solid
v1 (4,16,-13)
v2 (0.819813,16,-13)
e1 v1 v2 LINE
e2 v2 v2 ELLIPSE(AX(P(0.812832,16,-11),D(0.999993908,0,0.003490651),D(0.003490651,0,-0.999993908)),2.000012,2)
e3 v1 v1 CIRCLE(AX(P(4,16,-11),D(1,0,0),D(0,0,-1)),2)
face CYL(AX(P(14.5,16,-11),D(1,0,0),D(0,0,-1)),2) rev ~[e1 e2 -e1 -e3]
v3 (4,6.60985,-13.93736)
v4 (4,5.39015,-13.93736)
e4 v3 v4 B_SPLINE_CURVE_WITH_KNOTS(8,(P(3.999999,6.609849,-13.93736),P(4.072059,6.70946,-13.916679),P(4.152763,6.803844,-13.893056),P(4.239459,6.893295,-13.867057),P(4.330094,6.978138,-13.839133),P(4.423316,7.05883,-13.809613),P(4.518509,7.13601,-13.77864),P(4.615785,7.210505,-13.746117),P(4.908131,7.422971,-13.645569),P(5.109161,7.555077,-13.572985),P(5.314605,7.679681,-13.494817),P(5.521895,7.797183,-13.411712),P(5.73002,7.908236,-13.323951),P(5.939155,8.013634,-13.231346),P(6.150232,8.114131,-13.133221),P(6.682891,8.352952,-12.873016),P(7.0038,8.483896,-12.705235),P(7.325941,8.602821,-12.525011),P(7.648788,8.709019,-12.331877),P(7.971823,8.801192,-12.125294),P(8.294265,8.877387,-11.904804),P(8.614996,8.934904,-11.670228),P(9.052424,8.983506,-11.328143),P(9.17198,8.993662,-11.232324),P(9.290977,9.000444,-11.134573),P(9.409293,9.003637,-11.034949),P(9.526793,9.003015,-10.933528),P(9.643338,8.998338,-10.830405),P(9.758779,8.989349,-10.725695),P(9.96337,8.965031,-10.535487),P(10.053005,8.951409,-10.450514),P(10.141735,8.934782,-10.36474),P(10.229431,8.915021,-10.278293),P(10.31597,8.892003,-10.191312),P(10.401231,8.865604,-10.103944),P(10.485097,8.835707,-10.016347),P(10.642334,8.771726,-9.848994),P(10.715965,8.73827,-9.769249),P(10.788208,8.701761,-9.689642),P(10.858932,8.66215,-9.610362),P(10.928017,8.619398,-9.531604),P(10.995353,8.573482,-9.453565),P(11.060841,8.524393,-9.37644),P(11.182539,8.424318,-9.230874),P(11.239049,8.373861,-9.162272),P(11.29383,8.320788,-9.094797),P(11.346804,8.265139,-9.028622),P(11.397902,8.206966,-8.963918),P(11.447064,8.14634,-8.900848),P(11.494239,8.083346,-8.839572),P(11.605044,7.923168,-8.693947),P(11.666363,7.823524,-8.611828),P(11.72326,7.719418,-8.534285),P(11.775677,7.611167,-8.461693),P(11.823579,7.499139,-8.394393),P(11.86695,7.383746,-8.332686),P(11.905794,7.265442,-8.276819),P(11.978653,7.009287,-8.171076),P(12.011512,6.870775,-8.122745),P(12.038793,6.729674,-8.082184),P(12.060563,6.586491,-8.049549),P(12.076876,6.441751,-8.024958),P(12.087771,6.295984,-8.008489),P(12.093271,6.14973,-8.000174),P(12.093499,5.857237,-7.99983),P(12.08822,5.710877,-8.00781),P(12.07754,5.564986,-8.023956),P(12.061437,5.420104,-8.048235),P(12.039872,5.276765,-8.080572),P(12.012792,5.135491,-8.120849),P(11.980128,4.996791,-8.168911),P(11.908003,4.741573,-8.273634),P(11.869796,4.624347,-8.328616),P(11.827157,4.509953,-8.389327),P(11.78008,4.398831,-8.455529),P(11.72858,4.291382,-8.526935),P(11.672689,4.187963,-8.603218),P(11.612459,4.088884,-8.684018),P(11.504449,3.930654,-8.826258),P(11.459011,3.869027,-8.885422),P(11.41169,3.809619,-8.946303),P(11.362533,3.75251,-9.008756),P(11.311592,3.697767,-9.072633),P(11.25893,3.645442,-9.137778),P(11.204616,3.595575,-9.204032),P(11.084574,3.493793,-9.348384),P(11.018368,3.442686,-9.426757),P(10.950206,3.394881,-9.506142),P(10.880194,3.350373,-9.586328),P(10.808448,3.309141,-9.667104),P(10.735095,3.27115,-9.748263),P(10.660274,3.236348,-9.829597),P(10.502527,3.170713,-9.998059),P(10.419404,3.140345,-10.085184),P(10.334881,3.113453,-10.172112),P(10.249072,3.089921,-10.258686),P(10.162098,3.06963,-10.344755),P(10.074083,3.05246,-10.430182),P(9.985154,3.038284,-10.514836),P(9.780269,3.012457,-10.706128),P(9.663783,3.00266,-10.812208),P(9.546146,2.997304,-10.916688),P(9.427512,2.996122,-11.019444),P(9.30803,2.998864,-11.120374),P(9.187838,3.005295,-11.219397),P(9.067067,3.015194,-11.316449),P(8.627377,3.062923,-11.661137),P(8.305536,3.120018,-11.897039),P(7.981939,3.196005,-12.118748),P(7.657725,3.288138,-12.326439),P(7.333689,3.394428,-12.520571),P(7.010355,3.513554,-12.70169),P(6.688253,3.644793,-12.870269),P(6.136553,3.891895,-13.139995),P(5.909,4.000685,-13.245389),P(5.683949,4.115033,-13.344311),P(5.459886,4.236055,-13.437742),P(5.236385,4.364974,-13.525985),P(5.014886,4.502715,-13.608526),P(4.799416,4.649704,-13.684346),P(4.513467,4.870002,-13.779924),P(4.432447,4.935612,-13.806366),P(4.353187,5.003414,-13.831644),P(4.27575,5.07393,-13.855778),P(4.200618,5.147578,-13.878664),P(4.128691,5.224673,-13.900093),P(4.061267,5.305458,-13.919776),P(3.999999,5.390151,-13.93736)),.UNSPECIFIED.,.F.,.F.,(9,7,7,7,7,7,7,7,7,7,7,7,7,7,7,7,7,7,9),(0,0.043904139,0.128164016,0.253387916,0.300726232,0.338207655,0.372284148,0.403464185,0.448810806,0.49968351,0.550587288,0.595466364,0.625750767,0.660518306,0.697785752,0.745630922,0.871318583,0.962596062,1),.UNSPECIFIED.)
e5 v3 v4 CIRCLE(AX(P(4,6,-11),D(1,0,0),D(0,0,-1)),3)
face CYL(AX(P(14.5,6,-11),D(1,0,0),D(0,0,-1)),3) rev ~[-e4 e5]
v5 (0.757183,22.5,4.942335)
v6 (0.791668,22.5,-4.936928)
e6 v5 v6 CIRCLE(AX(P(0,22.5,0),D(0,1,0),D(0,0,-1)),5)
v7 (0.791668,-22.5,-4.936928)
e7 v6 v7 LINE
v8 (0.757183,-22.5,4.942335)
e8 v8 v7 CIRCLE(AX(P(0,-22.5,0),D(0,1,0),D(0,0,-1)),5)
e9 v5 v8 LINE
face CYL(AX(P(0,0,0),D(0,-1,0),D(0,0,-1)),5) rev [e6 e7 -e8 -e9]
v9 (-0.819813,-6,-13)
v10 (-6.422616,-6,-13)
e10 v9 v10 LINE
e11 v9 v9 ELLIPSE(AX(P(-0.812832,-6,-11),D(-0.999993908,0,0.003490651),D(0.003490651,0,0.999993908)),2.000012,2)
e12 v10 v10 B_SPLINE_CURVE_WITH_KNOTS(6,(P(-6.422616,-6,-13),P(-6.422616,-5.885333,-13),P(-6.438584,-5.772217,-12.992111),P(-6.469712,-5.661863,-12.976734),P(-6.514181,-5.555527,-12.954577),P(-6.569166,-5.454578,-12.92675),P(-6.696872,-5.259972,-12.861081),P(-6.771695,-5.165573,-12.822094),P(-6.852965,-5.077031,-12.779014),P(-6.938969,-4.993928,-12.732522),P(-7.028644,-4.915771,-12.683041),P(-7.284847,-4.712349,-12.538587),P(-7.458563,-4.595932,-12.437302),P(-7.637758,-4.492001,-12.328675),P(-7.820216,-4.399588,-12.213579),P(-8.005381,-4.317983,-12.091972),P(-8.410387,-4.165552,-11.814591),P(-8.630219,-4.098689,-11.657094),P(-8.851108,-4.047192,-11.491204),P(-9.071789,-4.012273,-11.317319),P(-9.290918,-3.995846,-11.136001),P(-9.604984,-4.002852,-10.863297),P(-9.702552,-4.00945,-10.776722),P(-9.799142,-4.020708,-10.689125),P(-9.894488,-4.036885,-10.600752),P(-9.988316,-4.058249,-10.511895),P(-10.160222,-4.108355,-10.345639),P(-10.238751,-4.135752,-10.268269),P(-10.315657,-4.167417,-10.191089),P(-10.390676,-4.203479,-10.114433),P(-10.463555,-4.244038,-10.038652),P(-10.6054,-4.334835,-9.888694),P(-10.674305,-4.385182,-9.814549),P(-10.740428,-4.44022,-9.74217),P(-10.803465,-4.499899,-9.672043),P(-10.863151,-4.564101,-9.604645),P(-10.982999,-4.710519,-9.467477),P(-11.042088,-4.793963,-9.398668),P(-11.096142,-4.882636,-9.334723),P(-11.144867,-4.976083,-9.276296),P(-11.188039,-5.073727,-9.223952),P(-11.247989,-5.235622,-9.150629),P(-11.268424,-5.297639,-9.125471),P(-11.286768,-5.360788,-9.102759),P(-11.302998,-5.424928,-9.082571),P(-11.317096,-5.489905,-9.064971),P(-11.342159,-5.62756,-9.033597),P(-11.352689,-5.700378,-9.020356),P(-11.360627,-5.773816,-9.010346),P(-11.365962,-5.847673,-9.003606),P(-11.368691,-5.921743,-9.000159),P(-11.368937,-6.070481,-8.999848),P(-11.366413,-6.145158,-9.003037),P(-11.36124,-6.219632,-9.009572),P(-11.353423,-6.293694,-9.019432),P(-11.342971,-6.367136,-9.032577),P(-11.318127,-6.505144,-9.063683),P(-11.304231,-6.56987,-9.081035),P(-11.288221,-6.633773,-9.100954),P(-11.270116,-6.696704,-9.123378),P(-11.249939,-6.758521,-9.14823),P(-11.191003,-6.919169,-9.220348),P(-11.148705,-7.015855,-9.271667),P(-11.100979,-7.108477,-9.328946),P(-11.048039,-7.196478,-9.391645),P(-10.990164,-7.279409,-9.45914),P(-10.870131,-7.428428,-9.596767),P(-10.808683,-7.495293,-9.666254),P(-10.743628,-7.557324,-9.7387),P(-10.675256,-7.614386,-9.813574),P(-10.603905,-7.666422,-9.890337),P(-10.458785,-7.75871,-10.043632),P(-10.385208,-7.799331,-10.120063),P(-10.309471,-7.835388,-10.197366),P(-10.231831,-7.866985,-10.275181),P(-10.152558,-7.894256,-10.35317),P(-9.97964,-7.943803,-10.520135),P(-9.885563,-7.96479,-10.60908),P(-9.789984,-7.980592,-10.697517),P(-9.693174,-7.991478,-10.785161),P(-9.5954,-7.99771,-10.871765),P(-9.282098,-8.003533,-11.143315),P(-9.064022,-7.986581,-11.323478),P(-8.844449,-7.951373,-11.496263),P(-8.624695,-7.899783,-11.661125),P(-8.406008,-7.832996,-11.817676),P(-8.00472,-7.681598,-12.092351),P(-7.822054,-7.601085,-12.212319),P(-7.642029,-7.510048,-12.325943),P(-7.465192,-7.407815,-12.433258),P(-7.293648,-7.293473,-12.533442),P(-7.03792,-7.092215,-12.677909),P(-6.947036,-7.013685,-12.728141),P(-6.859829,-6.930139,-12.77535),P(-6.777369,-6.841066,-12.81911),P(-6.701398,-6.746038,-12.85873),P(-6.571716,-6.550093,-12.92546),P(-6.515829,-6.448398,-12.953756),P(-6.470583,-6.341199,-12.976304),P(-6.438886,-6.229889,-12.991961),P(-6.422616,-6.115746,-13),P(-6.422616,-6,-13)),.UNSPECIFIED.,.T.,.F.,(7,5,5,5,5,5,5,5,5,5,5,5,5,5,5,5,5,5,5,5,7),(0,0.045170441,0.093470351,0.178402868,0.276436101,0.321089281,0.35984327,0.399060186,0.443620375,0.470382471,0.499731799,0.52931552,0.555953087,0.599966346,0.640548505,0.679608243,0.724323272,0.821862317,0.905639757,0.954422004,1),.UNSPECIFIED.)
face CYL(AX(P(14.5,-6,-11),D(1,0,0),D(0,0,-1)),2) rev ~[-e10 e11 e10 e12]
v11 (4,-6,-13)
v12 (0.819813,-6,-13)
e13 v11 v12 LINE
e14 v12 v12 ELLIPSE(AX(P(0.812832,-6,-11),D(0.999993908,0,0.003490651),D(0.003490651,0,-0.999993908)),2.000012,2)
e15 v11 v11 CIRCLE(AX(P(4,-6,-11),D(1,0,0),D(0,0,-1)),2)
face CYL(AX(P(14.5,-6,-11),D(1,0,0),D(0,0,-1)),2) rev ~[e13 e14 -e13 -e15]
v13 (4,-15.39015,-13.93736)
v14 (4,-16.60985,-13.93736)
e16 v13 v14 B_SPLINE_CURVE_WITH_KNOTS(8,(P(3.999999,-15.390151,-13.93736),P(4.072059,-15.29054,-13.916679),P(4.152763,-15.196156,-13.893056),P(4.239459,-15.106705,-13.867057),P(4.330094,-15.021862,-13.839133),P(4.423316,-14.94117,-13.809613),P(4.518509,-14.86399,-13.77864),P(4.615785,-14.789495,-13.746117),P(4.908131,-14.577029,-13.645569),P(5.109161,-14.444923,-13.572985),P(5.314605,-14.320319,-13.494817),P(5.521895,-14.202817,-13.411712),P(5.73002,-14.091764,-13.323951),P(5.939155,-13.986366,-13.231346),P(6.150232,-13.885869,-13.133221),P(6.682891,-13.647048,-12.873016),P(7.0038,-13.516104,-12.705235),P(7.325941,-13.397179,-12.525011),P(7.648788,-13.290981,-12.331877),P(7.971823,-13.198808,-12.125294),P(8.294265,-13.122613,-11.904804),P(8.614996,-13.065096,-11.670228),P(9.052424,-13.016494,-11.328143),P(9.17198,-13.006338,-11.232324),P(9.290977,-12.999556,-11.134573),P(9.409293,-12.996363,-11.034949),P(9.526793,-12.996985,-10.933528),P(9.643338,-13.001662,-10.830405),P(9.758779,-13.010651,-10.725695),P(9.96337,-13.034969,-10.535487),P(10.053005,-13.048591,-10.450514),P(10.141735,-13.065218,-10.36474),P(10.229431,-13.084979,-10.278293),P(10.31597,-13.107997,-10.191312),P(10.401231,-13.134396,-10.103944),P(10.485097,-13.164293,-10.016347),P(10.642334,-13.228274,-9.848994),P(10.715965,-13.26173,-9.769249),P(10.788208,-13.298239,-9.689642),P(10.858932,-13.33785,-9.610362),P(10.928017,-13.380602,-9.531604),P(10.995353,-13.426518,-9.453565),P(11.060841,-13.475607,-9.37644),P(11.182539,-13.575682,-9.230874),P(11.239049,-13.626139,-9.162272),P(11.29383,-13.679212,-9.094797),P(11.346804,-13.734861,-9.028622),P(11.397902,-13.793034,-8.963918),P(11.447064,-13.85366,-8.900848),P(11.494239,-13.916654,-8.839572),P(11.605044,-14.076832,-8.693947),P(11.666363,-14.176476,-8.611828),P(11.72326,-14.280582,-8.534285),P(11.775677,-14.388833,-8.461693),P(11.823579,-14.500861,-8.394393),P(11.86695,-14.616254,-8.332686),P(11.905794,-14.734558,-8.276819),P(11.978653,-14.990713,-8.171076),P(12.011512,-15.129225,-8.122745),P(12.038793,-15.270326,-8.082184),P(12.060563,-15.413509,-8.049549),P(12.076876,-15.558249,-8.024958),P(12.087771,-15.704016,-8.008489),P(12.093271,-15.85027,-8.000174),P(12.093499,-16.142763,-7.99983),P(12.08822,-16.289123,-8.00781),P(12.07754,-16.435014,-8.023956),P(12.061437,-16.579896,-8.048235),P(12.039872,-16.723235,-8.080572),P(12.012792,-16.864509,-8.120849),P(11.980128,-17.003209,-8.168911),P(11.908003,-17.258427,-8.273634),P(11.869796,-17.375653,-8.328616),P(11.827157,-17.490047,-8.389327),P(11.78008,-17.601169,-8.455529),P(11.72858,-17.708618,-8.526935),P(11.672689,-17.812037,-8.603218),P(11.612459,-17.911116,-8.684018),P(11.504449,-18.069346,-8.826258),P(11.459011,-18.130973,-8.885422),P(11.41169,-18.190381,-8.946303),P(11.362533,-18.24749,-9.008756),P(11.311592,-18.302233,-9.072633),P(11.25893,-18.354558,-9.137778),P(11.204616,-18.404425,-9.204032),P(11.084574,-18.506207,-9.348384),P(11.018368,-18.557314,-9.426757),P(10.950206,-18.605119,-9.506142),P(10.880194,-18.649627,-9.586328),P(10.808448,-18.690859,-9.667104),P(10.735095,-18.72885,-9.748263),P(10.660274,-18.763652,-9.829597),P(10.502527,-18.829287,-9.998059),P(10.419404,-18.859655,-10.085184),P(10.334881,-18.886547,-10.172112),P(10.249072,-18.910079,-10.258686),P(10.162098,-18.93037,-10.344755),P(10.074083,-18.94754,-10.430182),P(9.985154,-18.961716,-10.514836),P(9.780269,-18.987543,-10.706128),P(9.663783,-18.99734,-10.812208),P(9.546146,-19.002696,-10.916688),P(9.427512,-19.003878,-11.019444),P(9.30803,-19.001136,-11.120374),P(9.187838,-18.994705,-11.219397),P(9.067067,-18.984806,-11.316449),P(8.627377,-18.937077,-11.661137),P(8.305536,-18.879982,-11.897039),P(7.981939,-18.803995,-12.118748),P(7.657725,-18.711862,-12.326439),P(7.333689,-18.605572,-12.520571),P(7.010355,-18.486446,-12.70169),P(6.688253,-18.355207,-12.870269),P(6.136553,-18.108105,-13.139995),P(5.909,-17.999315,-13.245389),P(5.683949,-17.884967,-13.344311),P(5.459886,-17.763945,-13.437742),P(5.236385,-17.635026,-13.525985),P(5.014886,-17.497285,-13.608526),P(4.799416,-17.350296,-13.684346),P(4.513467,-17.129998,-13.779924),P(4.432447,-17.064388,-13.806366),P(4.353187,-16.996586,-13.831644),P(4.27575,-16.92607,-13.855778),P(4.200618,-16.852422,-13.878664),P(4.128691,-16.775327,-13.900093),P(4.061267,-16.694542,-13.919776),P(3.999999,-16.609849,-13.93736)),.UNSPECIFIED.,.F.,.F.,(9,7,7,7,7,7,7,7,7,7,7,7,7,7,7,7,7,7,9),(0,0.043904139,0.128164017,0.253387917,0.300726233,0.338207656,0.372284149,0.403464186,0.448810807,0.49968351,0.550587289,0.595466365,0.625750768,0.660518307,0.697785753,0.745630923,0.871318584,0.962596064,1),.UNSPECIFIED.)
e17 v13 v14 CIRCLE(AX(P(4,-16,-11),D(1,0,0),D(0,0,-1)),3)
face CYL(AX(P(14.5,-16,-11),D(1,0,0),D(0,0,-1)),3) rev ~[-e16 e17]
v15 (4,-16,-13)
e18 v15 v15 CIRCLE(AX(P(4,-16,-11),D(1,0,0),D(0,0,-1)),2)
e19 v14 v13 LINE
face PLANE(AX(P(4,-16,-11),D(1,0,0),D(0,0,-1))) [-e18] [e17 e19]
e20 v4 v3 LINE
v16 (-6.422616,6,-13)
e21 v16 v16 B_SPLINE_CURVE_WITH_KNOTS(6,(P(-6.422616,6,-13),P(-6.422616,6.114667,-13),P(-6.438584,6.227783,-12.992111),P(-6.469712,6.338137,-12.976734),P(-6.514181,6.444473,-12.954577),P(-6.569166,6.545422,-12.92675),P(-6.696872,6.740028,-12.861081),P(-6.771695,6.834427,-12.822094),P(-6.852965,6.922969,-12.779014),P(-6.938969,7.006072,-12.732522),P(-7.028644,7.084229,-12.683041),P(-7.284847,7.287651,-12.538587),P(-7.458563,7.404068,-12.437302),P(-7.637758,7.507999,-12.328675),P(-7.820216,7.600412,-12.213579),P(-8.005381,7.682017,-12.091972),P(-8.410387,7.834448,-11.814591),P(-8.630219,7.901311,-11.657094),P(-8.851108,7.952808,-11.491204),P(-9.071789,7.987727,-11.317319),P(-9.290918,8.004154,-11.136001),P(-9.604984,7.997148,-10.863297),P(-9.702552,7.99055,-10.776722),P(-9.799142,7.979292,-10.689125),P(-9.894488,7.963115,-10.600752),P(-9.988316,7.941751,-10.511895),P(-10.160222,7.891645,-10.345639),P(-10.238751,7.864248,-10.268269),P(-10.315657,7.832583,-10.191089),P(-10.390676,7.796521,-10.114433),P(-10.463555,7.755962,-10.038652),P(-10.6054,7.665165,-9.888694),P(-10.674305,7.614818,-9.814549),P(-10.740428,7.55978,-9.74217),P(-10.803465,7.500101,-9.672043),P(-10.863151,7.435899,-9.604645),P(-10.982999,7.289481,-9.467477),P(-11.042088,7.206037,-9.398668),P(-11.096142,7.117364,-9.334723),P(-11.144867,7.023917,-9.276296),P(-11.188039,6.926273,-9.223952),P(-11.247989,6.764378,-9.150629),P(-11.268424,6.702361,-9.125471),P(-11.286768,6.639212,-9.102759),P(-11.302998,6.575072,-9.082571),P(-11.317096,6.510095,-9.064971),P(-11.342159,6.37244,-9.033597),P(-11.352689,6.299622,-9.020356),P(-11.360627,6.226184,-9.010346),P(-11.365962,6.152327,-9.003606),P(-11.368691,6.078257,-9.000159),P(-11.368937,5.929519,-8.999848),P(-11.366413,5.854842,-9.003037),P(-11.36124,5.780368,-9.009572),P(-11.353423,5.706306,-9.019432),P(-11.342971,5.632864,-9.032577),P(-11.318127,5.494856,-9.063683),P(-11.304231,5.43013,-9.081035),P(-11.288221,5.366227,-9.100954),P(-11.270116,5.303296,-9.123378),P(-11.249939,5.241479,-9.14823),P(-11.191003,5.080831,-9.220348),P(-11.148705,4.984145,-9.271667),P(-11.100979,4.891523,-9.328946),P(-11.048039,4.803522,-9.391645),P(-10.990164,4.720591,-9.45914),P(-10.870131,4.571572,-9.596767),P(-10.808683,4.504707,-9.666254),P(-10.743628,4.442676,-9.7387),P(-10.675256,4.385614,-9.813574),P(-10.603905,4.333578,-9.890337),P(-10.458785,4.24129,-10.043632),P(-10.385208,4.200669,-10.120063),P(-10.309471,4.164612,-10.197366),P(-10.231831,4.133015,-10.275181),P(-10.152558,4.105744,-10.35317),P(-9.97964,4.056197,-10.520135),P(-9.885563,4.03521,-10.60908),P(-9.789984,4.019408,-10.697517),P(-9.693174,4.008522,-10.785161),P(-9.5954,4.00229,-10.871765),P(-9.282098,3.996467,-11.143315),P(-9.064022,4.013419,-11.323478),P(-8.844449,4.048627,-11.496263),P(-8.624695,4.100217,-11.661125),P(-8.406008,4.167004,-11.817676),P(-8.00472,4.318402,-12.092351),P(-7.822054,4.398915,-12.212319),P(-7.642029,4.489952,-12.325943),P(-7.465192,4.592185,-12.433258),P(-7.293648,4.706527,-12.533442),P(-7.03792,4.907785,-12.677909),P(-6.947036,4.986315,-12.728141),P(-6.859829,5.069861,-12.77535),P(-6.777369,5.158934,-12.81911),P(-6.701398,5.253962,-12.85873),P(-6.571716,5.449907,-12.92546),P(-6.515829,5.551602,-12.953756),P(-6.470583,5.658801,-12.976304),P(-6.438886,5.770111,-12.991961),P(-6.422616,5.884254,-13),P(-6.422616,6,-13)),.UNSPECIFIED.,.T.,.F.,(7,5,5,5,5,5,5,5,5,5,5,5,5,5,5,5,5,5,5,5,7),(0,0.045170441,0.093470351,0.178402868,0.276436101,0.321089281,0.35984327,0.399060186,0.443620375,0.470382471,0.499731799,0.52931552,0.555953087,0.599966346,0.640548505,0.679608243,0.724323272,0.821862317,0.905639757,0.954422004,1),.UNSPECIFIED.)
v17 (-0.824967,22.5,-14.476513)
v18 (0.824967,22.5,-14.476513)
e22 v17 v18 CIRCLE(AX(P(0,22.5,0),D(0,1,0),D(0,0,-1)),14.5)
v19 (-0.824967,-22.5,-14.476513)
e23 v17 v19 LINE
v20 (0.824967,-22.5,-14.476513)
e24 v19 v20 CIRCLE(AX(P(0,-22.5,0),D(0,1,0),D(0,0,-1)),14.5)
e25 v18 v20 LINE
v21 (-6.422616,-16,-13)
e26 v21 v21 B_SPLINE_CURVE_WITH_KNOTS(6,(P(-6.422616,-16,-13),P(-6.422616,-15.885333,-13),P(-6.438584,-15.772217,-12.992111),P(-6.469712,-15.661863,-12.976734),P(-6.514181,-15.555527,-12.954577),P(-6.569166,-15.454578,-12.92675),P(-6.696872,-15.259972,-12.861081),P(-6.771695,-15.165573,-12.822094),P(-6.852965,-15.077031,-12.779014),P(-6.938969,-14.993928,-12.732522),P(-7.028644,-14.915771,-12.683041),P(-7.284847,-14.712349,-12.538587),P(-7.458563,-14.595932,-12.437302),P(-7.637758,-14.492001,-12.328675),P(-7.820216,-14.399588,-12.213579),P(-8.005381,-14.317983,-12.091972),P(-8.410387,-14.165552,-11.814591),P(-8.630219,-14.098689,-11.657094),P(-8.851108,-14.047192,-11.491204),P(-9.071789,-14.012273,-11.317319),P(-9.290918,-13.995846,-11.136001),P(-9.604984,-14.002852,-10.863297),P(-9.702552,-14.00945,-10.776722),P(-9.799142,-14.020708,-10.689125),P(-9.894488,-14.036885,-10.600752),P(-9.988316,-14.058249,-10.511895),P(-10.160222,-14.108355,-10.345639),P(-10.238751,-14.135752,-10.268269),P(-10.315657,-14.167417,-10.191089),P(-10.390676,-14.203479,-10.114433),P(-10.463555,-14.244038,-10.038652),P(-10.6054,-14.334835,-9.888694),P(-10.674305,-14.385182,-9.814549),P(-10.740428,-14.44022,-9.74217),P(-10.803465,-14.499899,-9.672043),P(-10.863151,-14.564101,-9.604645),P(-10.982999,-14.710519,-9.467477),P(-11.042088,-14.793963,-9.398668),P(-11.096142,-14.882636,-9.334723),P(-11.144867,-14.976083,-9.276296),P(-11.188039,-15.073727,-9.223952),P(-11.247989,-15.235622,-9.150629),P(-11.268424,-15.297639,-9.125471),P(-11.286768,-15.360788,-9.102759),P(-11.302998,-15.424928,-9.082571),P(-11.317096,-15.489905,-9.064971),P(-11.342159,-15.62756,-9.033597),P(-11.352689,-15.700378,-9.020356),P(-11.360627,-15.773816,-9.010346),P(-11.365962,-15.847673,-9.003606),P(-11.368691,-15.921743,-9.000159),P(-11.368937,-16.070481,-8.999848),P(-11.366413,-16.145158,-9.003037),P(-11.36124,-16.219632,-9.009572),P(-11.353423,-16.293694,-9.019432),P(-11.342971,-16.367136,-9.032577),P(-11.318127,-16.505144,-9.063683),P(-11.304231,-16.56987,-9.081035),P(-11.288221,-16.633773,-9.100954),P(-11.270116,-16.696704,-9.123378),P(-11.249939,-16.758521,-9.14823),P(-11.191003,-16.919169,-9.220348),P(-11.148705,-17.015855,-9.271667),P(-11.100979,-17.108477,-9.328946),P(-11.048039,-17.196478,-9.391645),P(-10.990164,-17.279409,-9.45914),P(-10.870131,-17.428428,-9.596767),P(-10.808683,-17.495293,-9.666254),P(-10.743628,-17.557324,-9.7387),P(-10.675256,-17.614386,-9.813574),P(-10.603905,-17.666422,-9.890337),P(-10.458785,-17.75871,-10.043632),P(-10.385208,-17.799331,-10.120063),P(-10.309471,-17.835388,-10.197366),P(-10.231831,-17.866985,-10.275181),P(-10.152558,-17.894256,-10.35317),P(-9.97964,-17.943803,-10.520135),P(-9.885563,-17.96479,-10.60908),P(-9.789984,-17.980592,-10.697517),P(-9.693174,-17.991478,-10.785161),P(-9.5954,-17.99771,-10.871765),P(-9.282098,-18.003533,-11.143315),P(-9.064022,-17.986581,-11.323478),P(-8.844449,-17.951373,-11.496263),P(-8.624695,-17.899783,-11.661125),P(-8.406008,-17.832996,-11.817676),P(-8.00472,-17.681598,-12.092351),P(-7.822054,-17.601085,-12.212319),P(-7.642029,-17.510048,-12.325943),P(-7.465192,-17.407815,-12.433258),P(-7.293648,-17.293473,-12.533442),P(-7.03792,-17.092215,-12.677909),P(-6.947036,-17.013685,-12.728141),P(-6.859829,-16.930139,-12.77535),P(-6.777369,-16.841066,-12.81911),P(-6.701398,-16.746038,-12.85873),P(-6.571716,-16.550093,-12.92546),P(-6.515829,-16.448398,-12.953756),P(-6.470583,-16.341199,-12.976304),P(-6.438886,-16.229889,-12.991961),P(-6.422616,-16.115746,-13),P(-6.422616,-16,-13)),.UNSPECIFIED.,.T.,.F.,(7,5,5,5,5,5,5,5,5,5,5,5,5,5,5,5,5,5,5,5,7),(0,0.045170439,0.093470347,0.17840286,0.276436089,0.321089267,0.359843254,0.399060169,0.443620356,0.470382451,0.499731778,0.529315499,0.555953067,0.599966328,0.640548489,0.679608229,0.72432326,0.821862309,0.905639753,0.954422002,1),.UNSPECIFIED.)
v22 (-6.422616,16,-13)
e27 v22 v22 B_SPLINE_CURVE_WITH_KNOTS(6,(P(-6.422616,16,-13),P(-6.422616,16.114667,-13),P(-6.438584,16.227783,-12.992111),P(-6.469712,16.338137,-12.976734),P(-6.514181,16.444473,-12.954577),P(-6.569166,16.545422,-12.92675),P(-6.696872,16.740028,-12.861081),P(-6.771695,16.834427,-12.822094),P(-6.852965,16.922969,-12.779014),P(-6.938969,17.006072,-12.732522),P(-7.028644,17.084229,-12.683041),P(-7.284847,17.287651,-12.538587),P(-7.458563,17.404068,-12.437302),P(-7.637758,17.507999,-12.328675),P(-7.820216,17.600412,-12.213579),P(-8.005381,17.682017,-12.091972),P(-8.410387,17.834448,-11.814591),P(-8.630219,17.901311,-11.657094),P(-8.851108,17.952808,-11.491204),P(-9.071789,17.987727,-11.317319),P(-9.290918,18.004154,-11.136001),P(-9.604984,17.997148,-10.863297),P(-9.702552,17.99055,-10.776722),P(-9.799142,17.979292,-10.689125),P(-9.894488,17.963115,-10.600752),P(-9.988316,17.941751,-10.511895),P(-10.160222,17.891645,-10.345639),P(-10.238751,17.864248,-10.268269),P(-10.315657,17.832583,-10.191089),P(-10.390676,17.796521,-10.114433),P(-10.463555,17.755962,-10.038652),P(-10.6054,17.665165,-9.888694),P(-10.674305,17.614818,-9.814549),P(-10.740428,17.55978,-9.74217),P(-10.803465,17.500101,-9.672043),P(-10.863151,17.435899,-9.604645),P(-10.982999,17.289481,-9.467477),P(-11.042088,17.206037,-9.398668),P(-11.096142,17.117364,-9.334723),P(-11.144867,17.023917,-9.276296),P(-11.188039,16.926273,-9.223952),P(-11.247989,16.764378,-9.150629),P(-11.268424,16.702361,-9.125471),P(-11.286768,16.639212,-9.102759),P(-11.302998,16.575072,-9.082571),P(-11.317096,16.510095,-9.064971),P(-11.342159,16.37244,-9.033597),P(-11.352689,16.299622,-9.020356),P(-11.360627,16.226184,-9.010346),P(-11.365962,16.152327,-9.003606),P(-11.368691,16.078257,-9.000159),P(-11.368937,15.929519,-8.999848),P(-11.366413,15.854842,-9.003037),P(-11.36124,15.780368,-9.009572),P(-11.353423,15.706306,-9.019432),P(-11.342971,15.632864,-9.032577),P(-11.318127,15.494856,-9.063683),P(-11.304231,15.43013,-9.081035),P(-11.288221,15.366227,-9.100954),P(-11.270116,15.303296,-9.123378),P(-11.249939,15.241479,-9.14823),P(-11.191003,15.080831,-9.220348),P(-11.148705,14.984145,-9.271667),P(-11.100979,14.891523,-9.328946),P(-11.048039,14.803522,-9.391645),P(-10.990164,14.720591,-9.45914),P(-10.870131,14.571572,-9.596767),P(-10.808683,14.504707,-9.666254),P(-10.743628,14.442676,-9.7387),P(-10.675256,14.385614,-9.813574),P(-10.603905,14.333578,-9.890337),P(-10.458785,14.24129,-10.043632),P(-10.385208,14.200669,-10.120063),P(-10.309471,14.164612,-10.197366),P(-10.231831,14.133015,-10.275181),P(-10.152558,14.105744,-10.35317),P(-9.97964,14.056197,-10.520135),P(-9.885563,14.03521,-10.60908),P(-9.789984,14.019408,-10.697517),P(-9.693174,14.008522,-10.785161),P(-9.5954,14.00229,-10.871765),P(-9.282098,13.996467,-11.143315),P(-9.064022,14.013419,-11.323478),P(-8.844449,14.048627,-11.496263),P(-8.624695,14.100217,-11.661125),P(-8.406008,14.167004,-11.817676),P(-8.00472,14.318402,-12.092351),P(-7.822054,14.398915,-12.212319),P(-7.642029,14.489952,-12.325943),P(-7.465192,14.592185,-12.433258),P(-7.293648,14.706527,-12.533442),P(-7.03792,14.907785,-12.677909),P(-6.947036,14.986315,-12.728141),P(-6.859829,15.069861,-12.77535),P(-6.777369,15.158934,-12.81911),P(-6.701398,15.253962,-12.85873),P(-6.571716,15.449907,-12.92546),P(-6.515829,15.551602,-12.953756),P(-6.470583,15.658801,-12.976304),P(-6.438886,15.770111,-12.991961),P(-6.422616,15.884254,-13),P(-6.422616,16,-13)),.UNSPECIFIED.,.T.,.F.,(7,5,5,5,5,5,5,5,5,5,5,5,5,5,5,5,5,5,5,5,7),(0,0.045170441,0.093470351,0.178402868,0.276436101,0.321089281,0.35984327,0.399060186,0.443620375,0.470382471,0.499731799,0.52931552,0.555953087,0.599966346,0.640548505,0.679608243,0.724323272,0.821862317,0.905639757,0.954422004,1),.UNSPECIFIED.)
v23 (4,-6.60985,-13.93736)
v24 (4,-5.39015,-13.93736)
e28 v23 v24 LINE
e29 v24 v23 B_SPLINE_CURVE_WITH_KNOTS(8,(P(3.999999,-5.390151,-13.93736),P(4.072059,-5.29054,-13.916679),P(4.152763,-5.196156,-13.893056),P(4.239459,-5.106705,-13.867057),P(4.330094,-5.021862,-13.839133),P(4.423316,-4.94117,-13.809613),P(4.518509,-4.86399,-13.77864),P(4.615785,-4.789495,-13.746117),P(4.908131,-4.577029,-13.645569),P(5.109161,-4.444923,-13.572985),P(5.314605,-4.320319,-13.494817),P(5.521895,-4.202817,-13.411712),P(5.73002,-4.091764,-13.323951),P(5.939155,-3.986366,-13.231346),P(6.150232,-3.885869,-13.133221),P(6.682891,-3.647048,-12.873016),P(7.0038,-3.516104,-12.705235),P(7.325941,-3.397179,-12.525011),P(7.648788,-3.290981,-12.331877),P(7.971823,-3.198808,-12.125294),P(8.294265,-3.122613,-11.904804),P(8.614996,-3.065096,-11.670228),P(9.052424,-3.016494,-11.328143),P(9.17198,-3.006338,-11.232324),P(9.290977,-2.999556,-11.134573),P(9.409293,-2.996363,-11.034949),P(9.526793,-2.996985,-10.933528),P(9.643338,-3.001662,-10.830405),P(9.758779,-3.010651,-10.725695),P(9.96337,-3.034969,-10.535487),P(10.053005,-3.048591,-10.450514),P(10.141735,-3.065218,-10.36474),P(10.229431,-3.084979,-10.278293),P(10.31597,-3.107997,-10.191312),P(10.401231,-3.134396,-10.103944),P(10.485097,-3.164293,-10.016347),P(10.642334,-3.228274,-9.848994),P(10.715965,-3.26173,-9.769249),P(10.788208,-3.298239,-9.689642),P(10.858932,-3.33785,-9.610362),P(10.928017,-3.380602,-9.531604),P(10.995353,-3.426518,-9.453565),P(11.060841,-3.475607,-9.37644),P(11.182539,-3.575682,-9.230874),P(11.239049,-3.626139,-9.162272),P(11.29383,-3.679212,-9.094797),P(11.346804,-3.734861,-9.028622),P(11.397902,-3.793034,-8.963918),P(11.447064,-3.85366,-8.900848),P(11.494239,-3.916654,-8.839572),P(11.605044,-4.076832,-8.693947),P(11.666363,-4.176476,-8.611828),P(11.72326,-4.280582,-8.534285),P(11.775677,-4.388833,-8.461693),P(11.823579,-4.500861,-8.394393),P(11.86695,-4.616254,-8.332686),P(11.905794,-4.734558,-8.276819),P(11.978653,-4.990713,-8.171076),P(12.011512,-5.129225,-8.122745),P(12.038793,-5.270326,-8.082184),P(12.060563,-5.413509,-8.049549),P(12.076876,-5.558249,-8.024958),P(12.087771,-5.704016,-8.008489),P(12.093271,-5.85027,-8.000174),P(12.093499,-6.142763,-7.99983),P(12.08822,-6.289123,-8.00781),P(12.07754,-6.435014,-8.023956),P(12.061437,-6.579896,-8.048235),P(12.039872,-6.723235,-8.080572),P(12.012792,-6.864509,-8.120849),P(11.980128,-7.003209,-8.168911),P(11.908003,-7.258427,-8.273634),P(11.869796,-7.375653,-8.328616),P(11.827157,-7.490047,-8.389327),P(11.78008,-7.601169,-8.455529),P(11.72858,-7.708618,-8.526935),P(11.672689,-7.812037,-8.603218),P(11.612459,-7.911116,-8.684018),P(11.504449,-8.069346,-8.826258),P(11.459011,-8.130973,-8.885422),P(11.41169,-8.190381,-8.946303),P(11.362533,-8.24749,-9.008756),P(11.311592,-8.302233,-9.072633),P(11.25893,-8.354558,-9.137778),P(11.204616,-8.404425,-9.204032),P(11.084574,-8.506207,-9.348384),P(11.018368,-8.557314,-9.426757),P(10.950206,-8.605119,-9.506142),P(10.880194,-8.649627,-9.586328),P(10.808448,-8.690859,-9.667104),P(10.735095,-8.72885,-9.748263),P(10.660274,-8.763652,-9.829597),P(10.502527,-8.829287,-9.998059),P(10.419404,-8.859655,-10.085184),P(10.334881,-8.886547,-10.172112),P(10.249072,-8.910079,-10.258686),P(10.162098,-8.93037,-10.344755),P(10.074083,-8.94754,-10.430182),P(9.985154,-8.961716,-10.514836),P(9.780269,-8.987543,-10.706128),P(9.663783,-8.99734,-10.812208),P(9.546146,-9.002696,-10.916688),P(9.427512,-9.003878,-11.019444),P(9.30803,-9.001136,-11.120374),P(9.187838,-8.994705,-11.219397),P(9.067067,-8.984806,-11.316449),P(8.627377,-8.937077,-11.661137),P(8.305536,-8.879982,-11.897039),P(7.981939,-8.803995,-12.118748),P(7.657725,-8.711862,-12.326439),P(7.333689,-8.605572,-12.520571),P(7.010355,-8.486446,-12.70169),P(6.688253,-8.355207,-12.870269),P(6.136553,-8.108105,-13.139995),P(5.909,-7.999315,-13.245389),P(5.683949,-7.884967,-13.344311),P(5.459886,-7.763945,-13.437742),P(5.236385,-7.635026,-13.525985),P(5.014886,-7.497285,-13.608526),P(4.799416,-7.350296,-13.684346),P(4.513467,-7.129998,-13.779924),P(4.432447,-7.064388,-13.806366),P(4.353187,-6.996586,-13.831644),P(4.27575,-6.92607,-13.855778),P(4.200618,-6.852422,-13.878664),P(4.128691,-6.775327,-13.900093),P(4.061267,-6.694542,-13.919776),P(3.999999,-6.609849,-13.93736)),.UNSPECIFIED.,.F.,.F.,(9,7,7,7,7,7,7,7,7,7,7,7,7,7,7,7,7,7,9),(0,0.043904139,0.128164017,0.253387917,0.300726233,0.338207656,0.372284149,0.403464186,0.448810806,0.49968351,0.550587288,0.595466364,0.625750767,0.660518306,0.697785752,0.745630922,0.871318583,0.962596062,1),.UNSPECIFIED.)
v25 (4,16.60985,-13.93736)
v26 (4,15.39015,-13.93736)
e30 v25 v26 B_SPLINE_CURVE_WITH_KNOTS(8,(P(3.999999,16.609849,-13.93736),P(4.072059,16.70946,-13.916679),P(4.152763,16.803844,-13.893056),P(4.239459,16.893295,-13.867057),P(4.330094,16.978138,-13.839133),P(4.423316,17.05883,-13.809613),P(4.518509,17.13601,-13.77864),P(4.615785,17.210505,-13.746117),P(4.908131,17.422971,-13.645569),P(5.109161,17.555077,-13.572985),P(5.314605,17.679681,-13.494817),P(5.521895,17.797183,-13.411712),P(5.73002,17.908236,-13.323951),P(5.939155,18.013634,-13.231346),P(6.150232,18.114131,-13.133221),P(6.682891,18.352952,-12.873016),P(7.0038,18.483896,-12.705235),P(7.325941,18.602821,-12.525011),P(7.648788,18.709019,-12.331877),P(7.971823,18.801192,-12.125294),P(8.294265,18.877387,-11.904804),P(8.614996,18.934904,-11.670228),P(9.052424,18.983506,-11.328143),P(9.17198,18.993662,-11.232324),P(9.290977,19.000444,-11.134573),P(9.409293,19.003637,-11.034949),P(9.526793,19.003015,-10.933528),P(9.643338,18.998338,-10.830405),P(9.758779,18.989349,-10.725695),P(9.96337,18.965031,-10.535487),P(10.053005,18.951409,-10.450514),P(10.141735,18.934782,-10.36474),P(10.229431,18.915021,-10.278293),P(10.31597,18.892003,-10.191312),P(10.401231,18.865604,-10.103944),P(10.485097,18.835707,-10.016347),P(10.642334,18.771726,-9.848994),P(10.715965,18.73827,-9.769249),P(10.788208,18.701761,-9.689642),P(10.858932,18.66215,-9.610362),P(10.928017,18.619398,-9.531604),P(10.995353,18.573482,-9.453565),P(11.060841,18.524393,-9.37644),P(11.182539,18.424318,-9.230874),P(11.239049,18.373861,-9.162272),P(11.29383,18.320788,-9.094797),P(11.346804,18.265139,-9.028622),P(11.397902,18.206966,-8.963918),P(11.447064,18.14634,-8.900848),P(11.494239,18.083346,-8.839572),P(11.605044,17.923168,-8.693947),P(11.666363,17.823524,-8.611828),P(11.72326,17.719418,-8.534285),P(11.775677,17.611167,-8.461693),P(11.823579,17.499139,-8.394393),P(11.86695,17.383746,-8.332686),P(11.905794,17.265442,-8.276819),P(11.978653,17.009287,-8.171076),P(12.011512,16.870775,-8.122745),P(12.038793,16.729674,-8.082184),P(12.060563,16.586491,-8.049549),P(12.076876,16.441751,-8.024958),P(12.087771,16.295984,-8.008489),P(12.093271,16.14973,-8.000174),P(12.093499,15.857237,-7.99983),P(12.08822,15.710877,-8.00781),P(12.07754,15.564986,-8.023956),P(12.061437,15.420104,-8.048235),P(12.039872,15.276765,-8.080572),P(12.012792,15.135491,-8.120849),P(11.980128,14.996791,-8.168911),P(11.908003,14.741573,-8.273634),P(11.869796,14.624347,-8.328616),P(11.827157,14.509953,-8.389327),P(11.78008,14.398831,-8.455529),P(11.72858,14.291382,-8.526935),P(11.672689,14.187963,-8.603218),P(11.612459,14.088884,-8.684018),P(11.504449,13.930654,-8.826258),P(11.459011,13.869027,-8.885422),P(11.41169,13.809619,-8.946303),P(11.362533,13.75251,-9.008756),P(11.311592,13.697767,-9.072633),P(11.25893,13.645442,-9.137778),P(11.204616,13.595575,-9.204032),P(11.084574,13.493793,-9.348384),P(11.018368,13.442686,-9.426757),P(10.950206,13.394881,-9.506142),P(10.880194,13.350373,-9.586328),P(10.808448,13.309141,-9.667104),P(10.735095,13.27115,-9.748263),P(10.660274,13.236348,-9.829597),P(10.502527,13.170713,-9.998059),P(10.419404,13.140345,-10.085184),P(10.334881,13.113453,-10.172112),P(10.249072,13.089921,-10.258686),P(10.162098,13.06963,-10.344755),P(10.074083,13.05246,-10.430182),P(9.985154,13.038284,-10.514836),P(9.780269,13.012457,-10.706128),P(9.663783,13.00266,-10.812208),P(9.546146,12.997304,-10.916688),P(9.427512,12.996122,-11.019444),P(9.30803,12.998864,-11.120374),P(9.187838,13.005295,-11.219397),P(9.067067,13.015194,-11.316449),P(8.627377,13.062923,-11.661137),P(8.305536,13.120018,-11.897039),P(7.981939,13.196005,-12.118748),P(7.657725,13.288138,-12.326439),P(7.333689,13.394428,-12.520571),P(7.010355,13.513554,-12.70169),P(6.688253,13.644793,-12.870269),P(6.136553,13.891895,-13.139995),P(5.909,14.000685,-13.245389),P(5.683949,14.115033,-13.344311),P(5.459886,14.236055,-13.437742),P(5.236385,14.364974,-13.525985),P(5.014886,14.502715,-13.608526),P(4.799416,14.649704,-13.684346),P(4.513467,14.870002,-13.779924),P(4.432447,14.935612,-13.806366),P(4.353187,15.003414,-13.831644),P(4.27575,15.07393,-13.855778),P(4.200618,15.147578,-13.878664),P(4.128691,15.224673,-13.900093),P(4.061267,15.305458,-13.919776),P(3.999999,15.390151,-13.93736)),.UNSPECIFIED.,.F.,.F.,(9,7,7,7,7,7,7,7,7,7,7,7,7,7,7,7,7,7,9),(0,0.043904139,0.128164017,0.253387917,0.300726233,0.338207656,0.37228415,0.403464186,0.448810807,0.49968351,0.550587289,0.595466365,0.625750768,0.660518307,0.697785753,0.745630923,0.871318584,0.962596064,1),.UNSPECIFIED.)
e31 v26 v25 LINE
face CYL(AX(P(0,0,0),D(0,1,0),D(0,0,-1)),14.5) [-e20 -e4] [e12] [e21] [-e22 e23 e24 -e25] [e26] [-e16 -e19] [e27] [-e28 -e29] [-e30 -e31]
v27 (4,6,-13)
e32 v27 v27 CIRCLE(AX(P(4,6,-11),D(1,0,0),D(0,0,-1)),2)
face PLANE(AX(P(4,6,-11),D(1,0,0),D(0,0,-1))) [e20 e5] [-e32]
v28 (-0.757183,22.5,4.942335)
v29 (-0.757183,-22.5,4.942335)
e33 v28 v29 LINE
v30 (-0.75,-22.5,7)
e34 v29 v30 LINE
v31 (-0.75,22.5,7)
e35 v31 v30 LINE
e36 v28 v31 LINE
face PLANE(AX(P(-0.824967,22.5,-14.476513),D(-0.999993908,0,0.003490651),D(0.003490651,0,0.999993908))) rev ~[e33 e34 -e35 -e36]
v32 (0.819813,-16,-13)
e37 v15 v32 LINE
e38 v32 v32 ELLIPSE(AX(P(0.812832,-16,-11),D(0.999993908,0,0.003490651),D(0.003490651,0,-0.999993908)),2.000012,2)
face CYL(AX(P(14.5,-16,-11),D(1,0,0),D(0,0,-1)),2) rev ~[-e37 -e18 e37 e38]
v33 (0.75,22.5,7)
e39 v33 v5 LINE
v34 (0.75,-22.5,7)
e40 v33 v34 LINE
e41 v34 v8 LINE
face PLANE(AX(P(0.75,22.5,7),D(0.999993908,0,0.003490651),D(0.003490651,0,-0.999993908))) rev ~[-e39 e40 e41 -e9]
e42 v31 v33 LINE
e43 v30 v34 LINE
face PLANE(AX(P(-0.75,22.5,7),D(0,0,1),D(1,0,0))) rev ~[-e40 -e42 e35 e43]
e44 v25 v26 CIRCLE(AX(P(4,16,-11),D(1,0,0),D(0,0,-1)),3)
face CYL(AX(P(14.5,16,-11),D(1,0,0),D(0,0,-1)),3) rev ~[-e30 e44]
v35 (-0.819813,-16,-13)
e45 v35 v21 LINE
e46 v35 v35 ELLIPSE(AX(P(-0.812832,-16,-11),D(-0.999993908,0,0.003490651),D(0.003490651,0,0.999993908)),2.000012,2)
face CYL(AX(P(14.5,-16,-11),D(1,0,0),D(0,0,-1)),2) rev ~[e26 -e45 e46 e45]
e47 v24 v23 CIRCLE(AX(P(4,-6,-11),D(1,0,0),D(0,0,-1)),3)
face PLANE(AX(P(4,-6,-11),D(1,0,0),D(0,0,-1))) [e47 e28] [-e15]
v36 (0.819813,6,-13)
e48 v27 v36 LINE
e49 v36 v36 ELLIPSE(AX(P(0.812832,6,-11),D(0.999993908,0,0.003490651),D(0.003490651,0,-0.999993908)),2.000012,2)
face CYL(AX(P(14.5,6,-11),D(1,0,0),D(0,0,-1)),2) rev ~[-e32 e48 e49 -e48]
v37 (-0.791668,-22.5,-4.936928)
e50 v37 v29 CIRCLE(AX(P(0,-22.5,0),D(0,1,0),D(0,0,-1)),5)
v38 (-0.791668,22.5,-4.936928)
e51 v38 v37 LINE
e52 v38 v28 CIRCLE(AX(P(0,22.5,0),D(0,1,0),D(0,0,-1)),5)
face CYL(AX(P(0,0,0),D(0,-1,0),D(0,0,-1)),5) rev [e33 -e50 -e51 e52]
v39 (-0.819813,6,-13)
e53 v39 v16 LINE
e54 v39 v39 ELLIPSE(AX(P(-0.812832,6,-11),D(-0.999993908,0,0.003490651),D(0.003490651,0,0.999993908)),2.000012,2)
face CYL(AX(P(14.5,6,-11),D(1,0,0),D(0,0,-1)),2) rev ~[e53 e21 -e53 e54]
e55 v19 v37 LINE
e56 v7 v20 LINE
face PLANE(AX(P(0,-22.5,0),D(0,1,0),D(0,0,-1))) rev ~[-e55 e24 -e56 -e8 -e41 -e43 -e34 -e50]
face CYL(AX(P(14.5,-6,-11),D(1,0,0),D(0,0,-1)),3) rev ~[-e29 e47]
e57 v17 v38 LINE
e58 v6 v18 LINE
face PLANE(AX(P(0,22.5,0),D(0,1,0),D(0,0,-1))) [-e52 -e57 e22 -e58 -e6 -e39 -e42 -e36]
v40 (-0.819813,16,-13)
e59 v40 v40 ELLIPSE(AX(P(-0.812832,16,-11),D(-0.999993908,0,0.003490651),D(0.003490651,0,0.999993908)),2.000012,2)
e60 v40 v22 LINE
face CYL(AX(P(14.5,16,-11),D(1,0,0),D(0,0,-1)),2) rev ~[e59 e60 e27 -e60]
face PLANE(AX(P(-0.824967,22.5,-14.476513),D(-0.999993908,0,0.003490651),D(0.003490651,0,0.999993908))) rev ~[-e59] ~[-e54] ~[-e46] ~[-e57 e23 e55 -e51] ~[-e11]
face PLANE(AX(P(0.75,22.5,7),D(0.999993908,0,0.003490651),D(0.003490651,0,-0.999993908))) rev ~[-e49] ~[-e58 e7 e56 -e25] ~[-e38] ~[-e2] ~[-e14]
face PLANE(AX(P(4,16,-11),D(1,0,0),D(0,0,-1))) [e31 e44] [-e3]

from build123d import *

# Parameters (mm, degrees)
SKETCH1_R           = 14.5
SKETCH1_R_2         = 5
BOSS_EXTRUDE1_DEPTH = 22.5
CUT_EXTRUDE1_START  = -45
CUT_EXTRUDE1_DEPTH  = 45
SKETCH3_R           = 2
CUT_EXTRUDE2_DEPTH  = 40.465174521
SKETCH4_R           = 3
CUT_EXTRUDE3_DEPTH  = 10.5


with BuildPart() as part:
    # Sketch1 → Boss-Extrude1 (new, symmetric)
    with BuildSketch(Plane(origin=(0, 0, 0), x_dir=(1, 0, 0), z_dir=(0, 1, 0))):
        with Locations(Location((0, 0, 0), (0, 0, 90))):
            Circle(SKETCH1_R)
        with Locations(Location((0, 0, 0), (0, 0, 90))):
            Circle(SKETCH1_R_2, mode=Mode.SUBTRACT)
    extrude(amount=BOSS_EXTRUDE1_DEPTH, both=True)

    # Sketch2 → Cut-Extrude1 (cut)
    with BuildSketch(Plane.XZ.offset(22.5).offset(CUT_EXTRUDE1_START)):
        with BuildLine():
            Line((-0.824967477, -14.476513001), (-0.75, 7))
            Line((-0.75, 7), (0.75, 7))
            Line((0.75, 7), (0.824967477, -14.476513001))
            ThreePointArc((0.824967477, -14.476513001), (0, -14.5), (-0.824967477, -14.476513001))
        make_face()
    extrude(amount=CUT_EXTRUDE1_DEPTH, mode=Mode.SUBTRACT)

    # Sketch3 → Cut-Extrude2 (cut, through all)
    with BuildSketch(Plane(origin=(14.5, 0, 0), x_dir=(0, 0, -1), z_dir=(1, 0, 0))):
        with Locations((11, 16)):
            Circle(SKETCH3_R)
        with Locations((11, 6)):
            Circle(SKETCH3_R)
        with Locations((11, -6)):
            Circle(SKETCH3_R)
        with Locations((11, -16)):
            Circle(SKETCH3_R)
    extrude(amount=-CUT_EXTRUDE2_DEPTH, mode=Mode.SUBTRACT)

    # Sketch4 → Cut-Extrude3 (cut)
    with BuildSketch(Plane(origin=(14.5, 0, 0), x_dir=(0, 0, -1), z_dir=(1, 0, 0))):
        with Locations((11, 16)):
            Circle(SKETCH4_R)
        with Locations((11, 6)):
            Circle(SKETCH4_R)
        with Locations((11, -6)):
            Circle(SKETCH4_R)
        with Locations((11, -16)):
            Circle(SKETCH4_R)
    extrude(amount=-CUT_EXTRUDE3_DEPTH, mode=Mode.SUBTRACT)


solid = part.part
